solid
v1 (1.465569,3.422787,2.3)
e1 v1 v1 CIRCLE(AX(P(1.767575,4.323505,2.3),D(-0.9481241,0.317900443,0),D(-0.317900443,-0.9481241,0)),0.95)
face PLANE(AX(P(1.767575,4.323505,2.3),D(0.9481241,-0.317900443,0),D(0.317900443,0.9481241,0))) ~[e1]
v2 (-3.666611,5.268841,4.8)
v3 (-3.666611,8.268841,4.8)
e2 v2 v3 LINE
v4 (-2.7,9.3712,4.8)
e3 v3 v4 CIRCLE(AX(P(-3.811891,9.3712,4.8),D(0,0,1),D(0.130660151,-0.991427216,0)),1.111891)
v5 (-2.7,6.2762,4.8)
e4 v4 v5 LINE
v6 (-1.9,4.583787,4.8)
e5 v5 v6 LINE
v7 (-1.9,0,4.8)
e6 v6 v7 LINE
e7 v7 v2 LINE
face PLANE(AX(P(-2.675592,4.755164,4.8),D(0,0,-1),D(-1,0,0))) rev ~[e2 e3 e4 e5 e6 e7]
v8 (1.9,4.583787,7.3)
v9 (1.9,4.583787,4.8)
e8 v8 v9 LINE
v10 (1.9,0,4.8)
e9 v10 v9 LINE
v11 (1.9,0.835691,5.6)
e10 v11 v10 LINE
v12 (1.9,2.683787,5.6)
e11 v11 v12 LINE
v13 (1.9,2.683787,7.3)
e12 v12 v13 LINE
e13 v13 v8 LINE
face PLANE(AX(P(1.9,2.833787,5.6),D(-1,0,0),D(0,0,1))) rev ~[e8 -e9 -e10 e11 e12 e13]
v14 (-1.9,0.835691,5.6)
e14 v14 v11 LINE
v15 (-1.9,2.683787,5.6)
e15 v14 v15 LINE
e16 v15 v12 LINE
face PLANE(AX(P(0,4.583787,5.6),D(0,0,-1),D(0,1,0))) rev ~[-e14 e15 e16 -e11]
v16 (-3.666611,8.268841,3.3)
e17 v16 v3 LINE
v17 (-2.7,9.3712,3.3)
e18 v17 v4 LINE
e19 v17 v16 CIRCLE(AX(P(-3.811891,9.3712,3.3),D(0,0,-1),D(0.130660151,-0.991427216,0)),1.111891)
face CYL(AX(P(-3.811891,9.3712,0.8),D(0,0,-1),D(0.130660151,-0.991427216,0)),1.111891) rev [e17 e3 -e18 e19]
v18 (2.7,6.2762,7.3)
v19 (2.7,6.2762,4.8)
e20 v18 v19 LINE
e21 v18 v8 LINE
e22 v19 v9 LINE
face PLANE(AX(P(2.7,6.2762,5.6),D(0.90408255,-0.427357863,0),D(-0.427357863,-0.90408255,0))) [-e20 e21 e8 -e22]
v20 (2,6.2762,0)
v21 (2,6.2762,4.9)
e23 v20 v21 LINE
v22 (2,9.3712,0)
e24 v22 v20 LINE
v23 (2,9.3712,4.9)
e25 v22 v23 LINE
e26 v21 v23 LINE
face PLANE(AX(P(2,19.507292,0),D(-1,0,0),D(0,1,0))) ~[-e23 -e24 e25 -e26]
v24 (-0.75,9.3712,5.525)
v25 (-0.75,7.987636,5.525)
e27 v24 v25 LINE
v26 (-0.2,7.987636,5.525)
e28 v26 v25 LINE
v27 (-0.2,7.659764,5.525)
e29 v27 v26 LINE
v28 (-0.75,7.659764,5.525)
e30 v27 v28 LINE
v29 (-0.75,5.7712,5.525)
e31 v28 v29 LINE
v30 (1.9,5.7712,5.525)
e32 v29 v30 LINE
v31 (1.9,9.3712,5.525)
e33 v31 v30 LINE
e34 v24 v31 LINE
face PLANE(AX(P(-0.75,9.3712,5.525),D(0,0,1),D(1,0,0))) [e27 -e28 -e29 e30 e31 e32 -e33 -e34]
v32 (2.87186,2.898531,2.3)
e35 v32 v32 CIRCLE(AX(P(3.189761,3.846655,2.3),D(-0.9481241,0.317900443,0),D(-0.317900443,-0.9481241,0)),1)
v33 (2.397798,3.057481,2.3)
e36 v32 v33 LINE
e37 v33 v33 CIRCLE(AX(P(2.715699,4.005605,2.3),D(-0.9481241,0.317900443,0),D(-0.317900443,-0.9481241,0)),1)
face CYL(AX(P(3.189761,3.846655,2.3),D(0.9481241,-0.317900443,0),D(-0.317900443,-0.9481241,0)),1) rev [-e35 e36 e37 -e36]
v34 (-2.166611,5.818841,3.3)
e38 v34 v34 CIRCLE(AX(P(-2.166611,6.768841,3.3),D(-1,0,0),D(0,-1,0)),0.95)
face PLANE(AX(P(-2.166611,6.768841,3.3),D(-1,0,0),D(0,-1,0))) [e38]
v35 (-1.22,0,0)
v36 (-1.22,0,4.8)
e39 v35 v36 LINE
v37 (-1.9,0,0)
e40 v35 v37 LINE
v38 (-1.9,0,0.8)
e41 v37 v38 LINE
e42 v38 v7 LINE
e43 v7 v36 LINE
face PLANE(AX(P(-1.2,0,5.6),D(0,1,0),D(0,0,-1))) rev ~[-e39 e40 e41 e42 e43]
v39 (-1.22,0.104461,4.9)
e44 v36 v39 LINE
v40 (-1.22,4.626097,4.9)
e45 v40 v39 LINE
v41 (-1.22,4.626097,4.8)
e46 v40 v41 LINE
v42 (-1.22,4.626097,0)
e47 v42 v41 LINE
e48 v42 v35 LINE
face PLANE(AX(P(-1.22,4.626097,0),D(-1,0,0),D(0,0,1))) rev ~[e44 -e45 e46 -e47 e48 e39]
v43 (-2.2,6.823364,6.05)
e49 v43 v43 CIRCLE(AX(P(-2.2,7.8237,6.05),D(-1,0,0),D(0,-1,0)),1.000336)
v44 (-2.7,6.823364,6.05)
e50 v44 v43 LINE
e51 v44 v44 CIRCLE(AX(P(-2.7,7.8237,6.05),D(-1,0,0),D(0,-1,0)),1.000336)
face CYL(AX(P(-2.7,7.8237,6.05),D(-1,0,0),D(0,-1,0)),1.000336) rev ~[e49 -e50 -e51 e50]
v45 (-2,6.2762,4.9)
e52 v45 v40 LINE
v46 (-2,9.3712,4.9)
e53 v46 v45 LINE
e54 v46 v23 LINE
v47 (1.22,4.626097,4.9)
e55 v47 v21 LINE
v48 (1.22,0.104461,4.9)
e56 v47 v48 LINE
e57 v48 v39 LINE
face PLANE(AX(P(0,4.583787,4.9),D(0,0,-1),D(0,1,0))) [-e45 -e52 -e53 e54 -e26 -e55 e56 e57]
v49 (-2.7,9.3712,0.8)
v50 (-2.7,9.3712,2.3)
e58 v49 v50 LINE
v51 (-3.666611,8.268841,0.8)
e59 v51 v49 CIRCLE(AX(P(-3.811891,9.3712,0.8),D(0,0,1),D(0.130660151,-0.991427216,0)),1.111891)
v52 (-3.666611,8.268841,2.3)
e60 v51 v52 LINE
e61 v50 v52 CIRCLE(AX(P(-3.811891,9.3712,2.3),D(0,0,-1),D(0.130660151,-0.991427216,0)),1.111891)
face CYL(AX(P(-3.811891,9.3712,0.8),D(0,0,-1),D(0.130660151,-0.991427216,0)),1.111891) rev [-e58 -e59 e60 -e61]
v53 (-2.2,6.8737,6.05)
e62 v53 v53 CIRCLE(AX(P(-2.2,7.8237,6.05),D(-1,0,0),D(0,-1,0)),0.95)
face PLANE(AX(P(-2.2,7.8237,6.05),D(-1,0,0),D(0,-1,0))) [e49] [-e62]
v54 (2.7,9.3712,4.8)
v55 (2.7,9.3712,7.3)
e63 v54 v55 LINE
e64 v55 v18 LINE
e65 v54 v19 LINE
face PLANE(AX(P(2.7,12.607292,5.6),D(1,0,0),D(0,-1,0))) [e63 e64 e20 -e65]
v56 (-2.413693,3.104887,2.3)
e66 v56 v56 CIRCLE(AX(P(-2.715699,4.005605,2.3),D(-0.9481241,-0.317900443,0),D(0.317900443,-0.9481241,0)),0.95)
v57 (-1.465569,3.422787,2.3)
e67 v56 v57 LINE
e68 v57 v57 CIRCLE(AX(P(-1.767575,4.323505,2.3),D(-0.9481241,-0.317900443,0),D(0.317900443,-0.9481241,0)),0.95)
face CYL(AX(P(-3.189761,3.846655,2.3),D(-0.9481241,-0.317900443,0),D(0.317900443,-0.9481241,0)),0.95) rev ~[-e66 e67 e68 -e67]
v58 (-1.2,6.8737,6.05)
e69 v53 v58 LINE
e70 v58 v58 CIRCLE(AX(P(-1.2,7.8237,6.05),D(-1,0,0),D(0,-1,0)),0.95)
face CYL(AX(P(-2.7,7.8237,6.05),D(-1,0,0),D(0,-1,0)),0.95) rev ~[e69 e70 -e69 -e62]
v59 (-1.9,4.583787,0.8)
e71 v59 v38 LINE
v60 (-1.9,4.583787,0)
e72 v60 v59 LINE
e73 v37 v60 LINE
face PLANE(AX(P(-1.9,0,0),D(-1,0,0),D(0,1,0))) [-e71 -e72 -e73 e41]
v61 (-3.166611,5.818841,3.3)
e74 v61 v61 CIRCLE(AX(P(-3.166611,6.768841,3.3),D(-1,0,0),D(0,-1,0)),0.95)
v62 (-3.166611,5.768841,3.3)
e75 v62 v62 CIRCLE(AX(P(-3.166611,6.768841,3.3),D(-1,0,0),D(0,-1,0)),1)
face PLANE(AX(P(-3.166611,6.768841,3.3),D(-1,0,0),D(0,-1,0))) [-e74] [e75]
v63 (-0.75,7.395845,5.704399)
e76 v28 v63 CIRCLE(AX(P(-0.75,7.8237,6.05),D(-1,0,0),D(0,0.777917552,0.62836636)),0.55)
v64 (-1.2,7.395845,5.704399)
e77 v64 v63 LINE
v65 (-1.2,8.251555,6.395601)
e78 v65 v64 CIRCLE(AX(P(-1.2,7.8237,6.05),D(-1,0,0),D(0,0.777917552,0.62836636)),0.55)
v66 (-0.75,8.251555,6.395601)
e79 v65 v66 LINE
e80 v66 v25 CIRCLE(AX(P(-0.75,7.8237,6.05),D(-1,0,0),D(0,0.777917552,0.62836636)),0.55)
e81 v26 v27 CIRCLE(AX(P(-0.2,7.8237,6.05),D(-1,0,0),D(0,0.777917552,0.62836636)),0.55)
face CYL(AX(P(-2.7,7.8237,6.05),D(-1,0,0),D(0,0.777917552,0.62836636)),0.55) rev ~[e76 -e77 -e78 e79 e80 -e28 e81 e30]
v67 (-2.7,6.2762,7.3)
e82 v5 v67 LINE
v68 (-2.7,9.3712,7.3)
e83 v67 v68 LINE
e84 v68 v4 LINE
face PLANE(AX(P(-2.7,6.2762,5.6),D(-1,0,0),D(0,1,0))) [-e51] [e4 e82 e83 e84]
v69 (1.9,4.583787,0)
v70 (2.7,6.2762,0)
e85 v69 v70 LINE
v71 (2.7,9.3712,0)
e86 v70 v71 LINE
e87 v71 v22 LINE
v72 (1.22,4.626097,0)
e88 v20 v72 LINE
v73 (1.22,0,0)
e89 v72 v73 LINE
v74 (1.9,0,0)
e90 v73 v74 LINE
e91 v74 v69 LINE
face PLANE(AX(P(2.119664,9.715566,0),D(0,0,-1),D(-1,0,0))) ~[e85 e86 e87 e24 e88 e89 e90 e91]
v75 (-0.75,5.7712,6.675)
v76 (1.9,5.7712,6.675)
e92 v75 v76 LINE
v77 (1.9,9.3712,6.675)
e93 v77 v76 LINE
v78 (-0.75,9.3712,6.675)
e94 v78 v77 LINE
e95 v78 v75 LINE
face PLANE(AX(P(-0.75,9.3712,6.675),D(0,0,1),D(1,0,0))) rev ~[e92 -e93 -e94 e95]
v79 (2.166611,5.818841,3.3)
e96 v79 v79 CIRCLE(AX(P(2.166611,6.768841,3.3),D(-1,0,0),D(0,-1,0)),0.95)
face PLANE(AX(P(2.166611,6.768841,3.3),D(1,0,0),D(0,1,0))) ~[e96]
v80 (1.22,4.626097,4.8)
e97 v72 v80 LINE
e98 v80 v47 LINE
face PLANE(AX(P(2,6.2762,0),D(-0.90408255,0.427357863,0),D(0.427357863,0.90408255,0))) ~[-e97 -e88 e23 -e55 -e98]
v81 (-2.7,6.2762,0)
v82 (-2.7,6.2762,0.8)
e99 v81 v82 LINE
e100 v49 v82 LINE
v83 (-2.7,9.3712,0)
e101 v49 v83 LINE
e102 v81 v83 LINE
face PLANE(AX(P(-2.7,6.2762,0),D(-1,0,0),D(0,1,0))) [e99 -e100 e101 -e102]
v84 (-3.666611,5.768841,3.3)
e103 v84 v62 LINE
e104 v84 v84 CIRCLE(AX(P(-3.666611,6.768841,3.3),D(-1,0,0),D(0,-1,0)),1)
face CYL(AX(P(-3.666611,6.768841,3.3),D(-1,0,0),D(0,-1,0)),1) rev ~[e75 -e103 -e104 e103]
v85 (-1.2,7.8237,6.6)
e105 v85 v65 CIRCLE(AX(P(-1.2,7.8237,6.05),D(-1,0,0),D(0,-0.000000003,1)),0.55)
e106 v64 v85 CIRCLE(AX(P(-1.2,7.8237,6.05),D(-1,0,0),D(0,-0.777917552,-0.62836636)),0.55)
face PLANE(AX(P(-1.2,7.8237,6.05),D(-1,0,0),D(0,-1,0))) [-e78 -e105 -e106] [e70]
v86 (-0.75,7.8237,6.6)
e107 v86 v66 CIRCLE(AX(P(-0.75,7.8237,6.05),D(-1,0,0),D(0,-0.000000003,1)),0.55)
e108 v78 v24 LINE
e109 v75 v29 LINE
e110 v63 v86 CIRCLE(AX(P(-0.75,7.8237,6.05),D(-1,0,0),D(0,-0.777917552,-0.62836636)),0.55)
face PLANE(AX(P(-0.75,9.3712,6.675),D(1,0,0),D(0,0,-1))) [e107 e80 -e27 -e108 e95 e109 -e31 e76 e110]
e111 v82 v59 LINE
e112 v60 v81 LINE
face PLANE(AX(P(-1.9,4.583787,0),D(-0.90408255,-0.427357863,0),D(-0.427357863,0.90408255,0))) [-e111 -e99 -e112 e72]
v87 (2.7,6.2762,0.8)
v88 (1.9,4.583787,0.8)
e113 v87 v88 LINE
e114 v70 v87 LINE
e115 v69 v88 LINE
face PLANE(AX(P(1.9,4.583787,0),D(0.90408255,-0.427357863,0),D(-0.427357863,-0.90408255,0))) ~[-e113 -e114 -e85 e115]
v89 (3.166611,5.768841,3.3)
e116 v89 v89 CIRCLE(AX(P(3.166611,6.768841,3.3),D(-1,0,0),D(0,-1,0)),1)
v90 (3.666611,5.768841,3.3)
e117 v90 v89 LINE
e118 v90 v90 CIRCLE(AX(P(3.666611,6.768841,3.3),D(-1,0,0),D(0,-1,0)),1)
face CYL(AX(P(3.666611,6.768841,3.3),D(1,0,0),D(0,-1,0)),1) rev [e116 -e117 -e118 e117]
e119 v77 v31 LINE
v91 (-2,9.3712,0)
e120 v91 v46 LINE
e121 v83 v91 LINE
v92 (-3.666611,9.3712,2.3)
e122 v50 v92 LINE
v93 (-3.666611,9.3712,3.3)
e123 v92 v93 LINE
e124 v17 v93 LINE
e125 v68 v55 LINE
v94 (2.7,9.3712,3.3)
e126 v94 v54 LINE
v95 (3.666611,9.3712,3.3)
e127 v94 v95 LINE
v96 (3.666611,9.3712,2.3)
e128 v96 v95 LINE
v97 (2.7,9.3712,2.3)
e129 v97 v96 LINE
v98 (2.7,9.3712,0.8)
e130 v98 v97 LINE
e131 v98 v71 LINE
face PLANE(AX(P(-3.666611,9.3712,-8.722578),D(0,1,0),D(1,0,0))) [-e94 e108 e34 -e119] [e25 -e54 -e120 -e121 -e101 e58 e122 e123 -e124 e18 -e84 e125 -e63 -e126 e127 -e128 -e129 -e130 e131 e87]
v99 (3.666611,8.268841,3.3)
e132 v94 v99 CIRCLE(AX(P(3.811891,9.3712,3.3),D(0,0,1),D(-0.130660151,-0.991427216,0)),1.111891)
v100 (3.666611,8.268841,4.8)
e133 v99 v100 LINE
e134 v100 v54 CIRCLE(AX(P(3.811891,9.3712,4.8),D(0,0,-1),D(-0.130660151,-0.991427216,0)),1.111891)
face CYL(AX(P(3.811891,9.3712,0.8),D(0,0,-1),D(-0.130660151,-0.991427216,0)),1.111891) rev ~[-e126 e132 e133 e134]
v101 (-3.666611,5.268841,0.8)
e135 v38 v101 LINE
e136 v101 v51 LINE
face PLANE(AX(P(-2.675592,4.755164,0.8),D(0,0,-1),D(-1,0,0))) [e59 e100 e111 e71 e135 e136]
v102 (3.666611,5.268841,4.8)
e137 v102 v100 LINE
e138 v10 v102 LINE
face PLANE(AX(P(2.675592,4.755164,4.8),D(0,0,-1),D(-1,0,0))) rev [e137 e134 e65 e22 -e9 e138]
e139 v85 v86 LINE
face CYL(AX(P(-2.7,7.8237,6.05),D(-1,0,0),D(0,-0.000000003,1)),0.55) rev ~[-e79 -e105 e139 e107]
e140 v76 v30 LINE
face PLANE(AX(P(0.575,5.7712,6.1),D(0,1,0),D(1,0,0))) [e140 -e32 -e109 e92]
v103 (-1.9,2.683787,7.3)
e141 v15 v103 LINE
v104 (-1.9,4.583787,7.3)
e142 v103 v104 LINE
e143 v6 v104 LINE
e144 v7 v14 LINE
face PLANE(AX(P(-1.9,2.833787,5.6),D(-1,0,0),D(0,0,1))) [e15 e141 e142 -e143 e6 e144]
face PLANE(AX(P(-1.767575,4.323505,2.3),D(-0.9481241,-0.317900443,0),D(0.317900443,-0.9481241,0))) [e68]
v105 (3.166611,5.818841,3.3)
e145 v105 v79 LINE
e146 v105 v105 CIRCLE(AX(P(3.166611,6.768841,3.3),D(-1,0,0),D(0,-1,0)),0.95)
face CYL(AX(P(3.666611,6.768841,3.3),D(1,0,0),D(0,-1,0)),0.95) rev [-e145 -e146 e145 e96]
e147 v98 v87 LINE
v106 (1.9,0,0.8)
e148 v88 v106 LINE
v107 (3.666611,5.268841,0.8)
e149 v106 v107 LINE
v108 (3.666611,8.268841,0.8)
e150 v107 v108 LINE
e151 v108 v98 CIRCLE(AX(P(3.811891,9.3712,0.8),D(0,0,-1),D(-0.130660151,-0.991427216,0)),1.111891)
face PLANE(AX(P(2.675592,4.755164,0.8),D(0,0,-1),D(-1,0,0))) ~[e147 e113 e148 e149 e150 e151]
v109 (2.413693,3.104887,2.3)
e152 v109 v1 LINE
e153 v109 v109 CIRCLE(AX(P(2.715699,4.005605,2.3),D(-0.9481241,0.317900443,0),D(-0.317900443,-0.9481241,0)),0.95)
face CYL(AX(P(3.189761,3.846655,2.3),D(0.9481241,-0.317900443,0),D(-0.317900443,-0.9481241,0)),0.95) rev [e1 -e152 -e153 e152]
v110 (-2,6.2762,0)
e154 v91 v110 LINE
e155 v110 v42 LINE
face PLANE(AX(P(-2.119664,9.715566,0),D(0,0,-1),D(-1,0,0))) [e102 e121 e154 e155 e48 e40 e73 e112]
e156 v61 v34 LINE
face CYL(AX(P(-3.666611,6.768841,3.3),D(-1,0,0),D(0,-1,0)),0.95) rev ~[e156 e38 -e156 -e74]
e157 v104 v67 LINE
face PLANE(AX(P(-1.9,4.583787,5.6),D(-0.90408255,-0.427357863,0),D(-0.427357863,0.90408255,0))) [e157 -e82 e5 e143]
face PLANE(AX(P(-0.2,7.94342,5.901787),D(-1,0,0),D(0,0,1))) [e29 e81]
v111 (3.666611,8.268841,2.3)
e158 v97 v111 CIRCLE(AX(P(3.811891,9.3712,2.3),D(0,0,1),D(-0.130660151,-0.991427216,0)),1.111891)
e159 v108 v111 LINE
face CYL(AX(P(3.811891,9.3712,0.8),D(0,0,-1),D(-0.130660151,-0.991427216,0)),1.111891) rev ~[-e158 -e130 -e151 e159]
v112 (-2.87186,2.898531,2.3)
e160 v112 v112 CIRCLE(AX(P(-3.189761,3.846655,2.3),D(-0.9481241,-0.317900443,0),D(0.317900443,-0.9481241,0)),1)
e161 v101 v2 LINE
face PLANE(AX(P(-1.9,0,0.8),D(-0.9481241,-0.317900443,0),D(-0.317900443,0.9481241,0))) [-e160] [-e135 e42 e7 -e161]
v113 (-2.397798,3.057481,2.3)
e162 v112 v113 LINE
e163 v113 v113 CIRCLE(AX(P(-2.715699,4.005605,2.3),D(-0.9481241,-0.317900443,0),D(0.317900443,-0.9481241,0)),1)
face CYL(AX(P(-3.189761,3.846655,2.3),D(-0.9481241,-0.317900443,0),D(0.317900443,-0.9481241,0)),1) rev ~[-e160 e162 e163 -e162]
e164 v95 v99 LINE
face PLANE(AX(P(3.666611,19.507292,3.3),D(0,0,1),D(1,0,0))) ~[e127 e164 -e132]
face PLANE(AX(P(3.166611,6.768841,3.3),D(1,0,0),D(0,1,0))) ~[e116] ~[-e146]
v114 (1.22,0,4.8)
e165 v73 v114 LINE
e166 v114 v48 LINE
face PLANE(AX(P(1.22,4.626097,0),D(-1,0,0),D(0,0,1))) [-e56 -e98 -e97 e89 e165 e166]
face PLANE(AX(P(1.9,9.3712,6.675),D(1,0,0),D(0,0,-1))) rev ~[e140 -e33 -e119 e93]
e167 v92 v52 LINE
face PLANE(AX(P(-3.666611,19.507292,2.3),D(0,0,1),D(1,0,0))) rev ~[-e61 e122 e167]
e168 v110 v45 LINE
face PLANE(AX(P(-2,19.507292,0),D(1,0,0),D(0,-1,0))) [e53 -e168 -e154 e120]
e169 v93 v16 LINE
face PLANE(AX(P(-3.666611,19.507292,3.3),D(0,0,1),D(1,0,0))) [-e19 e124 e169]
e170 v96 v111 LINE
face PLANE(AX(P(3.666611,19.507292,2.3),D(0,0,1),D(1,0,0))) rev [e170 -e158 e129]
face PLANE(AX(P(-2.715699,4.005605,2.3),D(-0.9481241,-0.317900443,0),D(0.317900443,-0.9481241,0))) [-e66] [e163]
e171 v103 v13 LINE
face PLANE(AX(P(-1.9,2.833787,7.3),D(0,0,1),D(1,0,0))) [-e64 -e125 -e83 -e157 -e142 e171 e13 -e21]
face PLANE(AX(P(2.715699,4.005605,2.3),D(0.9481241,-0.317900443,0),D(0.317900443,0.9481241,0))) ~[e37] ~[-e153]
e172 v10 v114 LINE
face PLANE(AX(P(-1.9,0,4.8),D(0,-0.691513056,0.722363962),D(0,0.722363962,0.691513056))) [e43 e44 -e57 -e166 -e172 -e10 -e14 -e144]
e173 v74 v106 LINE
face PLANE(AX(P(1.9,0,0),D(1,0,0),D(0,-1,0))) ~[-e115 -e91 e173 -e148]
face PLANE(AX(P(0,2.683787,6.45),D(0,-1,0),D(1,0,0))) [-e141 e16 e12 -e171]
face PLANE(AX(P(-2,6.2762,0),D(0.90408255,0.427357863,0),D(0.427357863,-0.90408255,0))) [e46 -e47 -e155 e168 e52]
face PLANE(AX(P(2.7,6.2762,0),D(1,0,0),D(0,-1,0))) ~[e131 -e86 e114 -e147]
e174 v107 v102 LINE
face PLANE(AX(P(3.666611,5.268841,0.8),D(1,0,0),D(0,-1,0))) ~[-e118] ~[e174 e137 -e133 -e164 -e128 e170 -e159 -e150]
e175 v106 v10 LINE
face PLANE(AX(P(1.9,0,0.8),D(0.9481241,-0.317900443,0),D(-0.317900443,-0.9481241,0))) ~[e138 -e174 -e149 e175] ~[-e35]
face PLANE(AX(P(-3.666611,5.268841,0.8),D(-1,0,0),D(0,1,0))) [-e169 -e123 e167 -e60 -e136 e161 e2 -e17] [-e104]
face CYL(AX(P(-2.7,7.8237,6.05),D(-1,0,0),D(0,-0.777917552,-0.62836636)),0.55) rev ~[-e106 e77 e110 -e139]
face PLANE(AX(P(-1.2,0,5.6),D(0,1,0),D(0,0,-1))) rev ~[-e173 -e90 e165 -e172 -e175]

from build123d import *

# Parameters (mm, degrees)
BOSS_EXTRUDE1_DEPTH             = 5.6
BOSS_EXTRUDE2_DEPTH             = 2
BOSS_EXTRUDE2_DEPTH_BACK        = 2
SKETCH4_R                       = 0.95
CUT_EXTRUDE1_DEPTH              = 1.5
SKETCH4_4_R                     = 1
CUT_EXTRUDE2_DEPTH              = 0.5
SKETCH5_R                       = 0.95
CUT_EXTRUDE3_DEPTH              = 1.5
SKETCH5_3_R                     = 1
CUT_EXTRUDE4_DEPTH              = 0.5
BOSS_EXTRUDE3_REACH             = 22.624
SKETCH6_W                       = 0.966611368
SKETCH6_H                       = 1
BOSS_EXTRUDE4_START             = -1.2
SKETCH8_W                       = 0.7
SKETCH8_H                       = 4.583786921
BOSS_EXTRUDE4_DEPTH             = 2.4
BOSS_EXTRUDE5_REACH             = 22.624
SKETCH10_W                      = 0.7
SKETCH10_H                      = 14.923504875
BOSS_EXTRUDE5_DIRECTION_2_REACH = 22.624
SKETCH13_W                      = 7.333222736
SKETCH13_H                      = 6.9
CUT_EXTRUDE8_DEPTH              = 21.62373565
BOSS_EXTRUDE6_REACH             = 16.274
BOSS_EXTRUDE6_DIRECTION_2_REACH = 16.274
CUT_EXTRUDE9_START              = -4.626097
SKETCH14_W                      = 2.44
SKETCH14_H                      = 4.8
CUT_EXTRUDE9_DEPTH              = 4.626097
BOSS_EXTRUDE7_DEPTH             = 1.7
CUT_EXTRUDE10_DEPTH             = 16.595543228
SKETCH18_W                      = 2.44
SKETCH18_H                      = 0.1
CUT_EXTRUDE11_DEPTH             = 16.022577853
CUT_EXTRUDE12_DEPTH             = 16.022577853
CUT_EXTRUDE12_DEPTH_BACK        = 16.022577853
SKETCH20_W                      = 7.333222736
SKETCH20_H                      = 3.236091791
CUT_EXTRUDE13_DEPTH             = 2.5
SKETCH21_3_R                    = 0.95
CUT_EXTRUDE14_DEPTH             = 1.5
SKETCH21_4_R                    = 1.000336047
CUT_EXTRUDE15_DEPTH             = 0.5
SKETCH22_W                      = 2.65
SKETCH22_H                      = 1.15
CUT_EXTRUDE16_DEPTH             = 3.6
SKETCH28_W                      = 3.8
SKETCH28_H                      = 1.7
BOSS_EXTRUDE10_DEPTH            = 0.15


with BuildPart() as part:
    # Sketch1 → Boss-Extrude1 (new body)
    with BuildSketch(Plane.XY):
        Polygon((-1.2, 0), (-1.9, 0), (-1.9, 4.583786921), (-2.7, 6.276200005), (-2.7, 19.507291796), (-2, 19.507291796), (-2, 6.276200005), (-1.2, 4.583786921), align=None)
    extrude(amount=BOSS_EXTRUDE1_DEPTH)

    # Sketch3 → Boss-Extrude2 (add, two sides: drawn at the far end of the back side and taken through both)
    with BuildSketch(Plane.XY.offset(2.8).offset(-BOSS_EXTRUDE2_DEPTH_BACK)):
        with BuildLine():
            Line((-1.9, 0), (-3.666611368, 5.268840762))
            Line((-3.666611368, 5.268840762), (-3.666611368, 8.268840762))
            ThreePointArc((-3.666611368, 8.268840762), (-2.975877619, 8.638135643), (-2.7, 9.371200005))
            Line((-2.7, 9.371200005), (-2.7, 6.276200005))
            Line((-2.7, 6.276200005), (-1.9, 4.583786921))
            Line((-1.9, 4.583786921), (-1.9, 0))
        make_face()
    extrude(amount=BOSS_EXTRUDE2_DEPTH + BOSS_EXTRUDE2_DEPTH_BACK)

    # Sketch4 → Cut-Extrude1 (cut)
    with BuildSketch(Plane.ZY.offset(3.666611368)):
        with Locations(Location((3.3, 6.768840762, 0), (0, 0, 270))):
            Circle(SKETCH4_R)
    extrude(amount=-CUT_EXTRUDE1_DEPTH, mode=Mode.SUBTRACT)

    # Sketch4<4> → Cut-Extrude2 (cut)
    with BuildSketch(Plane.ZY.offset(3.666611368)):
        with Locations(Location((3.3, 6.768840762, 0), (0, 0, 270))):
            Circle(SKETCH4_4_R)
    extrude(amount=-CUT_EXTRUDE2_DEPTH, mode=Mode.SUBTRACT)

    # Sketch5 → Cut-Extrude3 (cut)
    with BuildSketch(Plane(origin=(-1.707984686, -0.572677236, 0), x_dir=(0, 0, 1), z_dir=(-0.9481240996322365, -0.3179004430581389, 0))):
        with Locations(Location((2.3, 4.661132282, 0), (0, 0, 270))):
            Circle(SKETCH5_R)
    extrude(amount=-CUT_EXTRUDE3_DEPTH, mode=Mode.SUBTRACT)

    # Sketch5<3> → Cut-Extrude4 (cut)
    with BuildSketch(Plane(origin=(-1.707984686, -0.572677236, 0), x_dir=(0, 0, 1), z_dir=(-0.9481240996322365, -0.3179004430581389, 0))):
        with Locations(Location((2.3, 4.661132282, 0), (0, 0, 270))):
            Circle(SKETCH5_3_R)
    extrude(amount=-CUT_EXTRUDE4_DEPTH, mode=Mode.SUBTRACT)

    # Sketch6 → Boss-Extrude3 (add, up to next)
    with BuildSketch(Plane(origin=(0, 19.507291796, 0), x_dir=(1, 0, 0), z_dir=(0, 1, 0)), mode=Mode.PRIVATE) as boss_extrude3_sk1:
        with Locations((-3.183305684, -2.8)):
            Rectangle(SKETCH6_W, SKETCH6_H)
    boss_extrude3_tool1 = extrude(boss_extrude3_sk1.sketch, amount=-BOSS_EXTRUDE3_REACH, mode=Mode.PRIVATE) - part.part
    add(boss_extrude3_tool1.solids().sort_by_distance((-3.183306, 19.507292, 2.8))[0])


with BuildPart() as body_2:
    # Mirror7: mirrored copy
    add(part.part.mirror(Plane(origin=(0, 0, 0), x_dir=(0, 0, 1), z_dir=(1, 0, 0))))


with BuildPart() as part_1:
    add(part.part)

    add(body_2.part)  # Boss-Extrude4 merges body 2
    # Sketch8 → Boss-Extrude4 (add)
    with BuildSketch(Plane(origin=(0, 0, 0), x_dir=(0, 0, -1), z_dir=(1, 0, 0)).offset(BOSS_EXTRUDE4_START)):
        with Locations((-5.25, 2.291893461)):
            Rectangle(SKETCH8_W, SKETCH8_H)
    extrude(amount=BOSS_EXTRUDE4_DEPTH)

    # Sketch10 → Boss-Extrude5 (add, up to next)
    with BuildSketch(Plane(origin=(0, 0, 0), x_dir=(0, 0, -1), z_dir=(1, 0, 0)), mode=Mode.PRIVATE) as boss_extrude5_sk1:
        with Locations((-5.25, 12.045539359)):
            Rectangle(SKETCH10_W, SKETCH10_H)
    boss_extrude5_tool1 = extrude(boss_extrude5_sk1.sketch, amount=BOSS_EXTRUDE5_REACH, mode=Mode.PRIVATE) - part_1.part
    add(boss_extrude5_tool1.solids().sort_by_distance((0, 12.045539, 5.25))[0])

    # Sketch10 → Boss-Extrude5 direction 2 (add, up to next)
    with BuildSketch(Plane(origin=(0, 0, 0), x_dir=(0, 0, -1), z_dir=(1, 0, 0)), mode=Mode.PRIVATE) as boss_extrude5_direction_2_sk1:
        with Locations((-5.25, 12.045539359)):
            Rectangle(SKETCH10_W, SKETCH10_H)
    boss_extrude5_direction_2_tool1 = extrude(boss_extrude5_direction_2_sk1.sketch, amount=-BOSS_EXTRUDE5_DIRECTION_2_REACH, mode=Mode.PRIVATE) - part_1.part
    add(boss_extrude5_direction_2_tool1.solids().sort_by_distance((0, 12.045539, 5.25))[0])

    # Sketch13 → Cut-Extrude8 (cut, through all)
    with BuildSketch(Plane.XY.offset(5.6)):
        with Locations((0, 16.057291796)):
            Rectangle(SKETCH13_W, SKETCH13_H)
    extrude(amount=-CUT_EXTRUDE8_DEPTH, mode=Mode.SUBTRACT)

    # Boss-Extrude6: up to this face of the body (flat: up to its plane)
    boss_extrude6_end = Plane(part_1.part.faces().sort_by_distance((1.9, 2.291893461, 5.2))[0])
    # Sketch9 → Boss-Extrude6 (add, up to the picked face)
    with BuildSketch(Plane(origin=(0, 0, 0), x_dir=(0, 0, -1), z_dir=(1, 0, 0)), mode=Mode.PRIVATE) as boss_extrude6_sk1:
        Polygon((-5.58241188, 1.018611498), (-4.8, 0.201293385), (-4.8, -0.528706615), (-5.58241188, 0.288611498), align=None)
    boss_extrude6_tool1 = split(extrude(boss_extrude6_sk1.sketch, amount=BOSS_EXTRUDE6_REACH, mode=Mode.PRIVATE), bisect_by=boss_extrude6_end, keep=Keep.BOTH, mode=Mode.PRIVATE)
    add(boss_extrude6_tool1.solids().sort_by(Axis((0, 0.244952, 5.191206), (1, 0, 0)))[0])

    # Boss-Extrude6 direction 2: up to this face of the body (flat: up to its plane)
    boss_extrude6_direction_2_end = Plane(part_1.part.faces().sort_by_distance((-1.9, 2.291893461, 5.2))[0])
    # Sketch9 → Boss-Extrude6 direction 2 (add, up to the picked face)
    with BuildSketch(Plane(origin=(0, 0, 0), x_dir=(0, 0, -1), z_dir=(1, 0, 0)), mode=Mode.PRIVATE) as boss_extrude6_direction_2_sk1:
        Polygon((-5.58241188, 1.018611498), (-4.8, 0.201293385), (-4.8, -0.528706615), (-5.58241188, 0.288611498), align=None)
    boss_extrude6_direction_2_tool1 = split(extrude(boss_extrude6_direction_2_sk1.sketch, amount=-BOSS_EXTRUDE6_DIRECTION_2_REACH, mode=Mode.PRIVATE), bisect_by=boss_extrude6_direction_2_end, keep=Keep.BOTH, mode=Mode.PRIVATE)
    add(boss_extrude6_direction_2_tool1.solids().sort_by(Axis((0, 0.244952, 5.191206), (-1, 0, 0)))[0])

    # Sketch14 → Cut-Extrude9 (cut)
    with BuildSketch(Plane.XZ.offset(CUT_EXTRUDE9_START)):
        with Locations((0, 2.4)):
            Rectangle(SKETCH14_W, SKETCH14_H)
    extrude(amount=CUT_EXTRUDE9_DEPTH, mode=Mode.SUBTRACT)

    # Sketch16 → Boss-Extrude7 (add)
    with BuildSketch(Plane.XY.offset(5.6)):
        Polygon((-2.7, 12.607291796), (2.7, 12.607291796), (2.7, 6.276200005), (1.9, 4.583786921), (1.9, 2.833786921), (-1.9, 2.833786921), (-1.9, 4.583786921), (-2.7, 6.276200005), align=None)
    extrude(amount=BOSS_EXTRUDE7_DEPTH)

    # Sketch17 → Cut-Extrude10 (cut, through all)
    with BuildSketch(Plane.ZY.offset(1.9)):
        Polygon((4.8, -0.528706615), (4.8, 0), (5.6, 0.835690902), (5.6, 0), (5.306126476, 0), align=None)
    extrude(amount=-CUT_EXTRUDE10_DEPTH, mode=Mode.SUBTRACT)

    # Sketch18 → Cut-Extrude11 (cut, through all)
    with BuildSketch(Plane(origin=(0, 12.607291796, 0), x_dir=(1, 0, 0), z_dir=(0, 1, 0))):
        with Locations((0, -4.85)):
            Rectangle(SKETCH18_W, SKETCH18_H)
    extrude(amount=-CUT_EXTRUDE11_DEPTH, mode=Mode.SUBTRACT)

    # Sketch20 → Cut-Extrude12 (cut, two sides: drawn at the far end of the back side and taken through both)
    with BuildSketch(Plane.XY.offset(7.3).offset(-CUT_EXTRUDE12_DEPTH_BACK)):
        with Locations((0, 10.989245901)):
            Rectangle(SKETCH20_W, SKETCH20_H)
    extrude(amount=CUT_EXTRUDE12_DEPTH + CUT_EXTRUDE12_DEPTH_BACK, mode=Mode.SUBTRACT)

    # Sketch21 → Cut-Extrude13 (cut)
    with BuildSketch(Plane.ZY.offset(2.7)):
        with BuildLine():
            ThreePointArc((6.395601498, 8.251554659), (5.622145346, 8.169301503), (5.704398502, 7.395845352))
            Line((5.704398502, 7.395845352), (6.395601498, 8.251554659))
        make_face()
        with BuildLine():
            Line((6.395601498, 8.251554659), (5.704398502, 7.395845352))
            ThreePointArc((5.704398502, 7.395845352), (6.287085614, 7.327423458), (6.6, 7.823700005))
            ThreePointArc((6.6, 7.823700005), (6.546276548, 8.060785619), (6.395601498, 8.251554659))
        make_face()
    extrude(amount=-CUT_EXTRUDE13_DEPTH, mode=Mode.SUBTRACT)

    # Sketch21<3> → Cut-Extrude14 (cut)
    with BuildSketch(Plane.ZY.offset(2.7)):
        with Locations(Location((6.05, 7.823700005, 0), (0, 0, 270))):
            Circle(SKETCH21_3_R)
    extrude(amount=-CUT_EXTRUDE14_DEPTH, mode=Mode.SUBTRACT)

    # Sketch21<4> → Cut-Extrude15 (cut)
    with BuildSketch(Plane.ZY.offset(2.7)):
        with Locations(Location((6.05, 7.823700005, 0), (0, 0, 270))):
            Circle(SKETCH21_4_R)
    extrude(amount=-CUT_EXTRUDE15_DEPTH, mode=Mode.SUBTRACT)

    # Sketch22 → Cut-Extrude16 (cut)
    with BuildSketch(Plane(origin=(0, 9.371200005, 0), x_dir=(1, 0, 0), z_dir=(0, 1, 0))):
        with Locations((0.575, -6.1)):
            Rectangle(SKETCH22_W, SKETCH22_H)
    extrude(amount=-CUT_EXTRUDE16_DEPTH, mode=Mode.SUBTRACT)

    # Sketch28 → Boss-Extrude10 (add)
    with BuildSketch(Plane.XZ.offset(-2.833786921)):
        with Locations((0, 6.45)):
            Rectangle(SKETCH28_W, SKETCH28_H)
    extrude(amount=BOSS_EXTRUDE10_DEPTH)


solid = part_1.part
